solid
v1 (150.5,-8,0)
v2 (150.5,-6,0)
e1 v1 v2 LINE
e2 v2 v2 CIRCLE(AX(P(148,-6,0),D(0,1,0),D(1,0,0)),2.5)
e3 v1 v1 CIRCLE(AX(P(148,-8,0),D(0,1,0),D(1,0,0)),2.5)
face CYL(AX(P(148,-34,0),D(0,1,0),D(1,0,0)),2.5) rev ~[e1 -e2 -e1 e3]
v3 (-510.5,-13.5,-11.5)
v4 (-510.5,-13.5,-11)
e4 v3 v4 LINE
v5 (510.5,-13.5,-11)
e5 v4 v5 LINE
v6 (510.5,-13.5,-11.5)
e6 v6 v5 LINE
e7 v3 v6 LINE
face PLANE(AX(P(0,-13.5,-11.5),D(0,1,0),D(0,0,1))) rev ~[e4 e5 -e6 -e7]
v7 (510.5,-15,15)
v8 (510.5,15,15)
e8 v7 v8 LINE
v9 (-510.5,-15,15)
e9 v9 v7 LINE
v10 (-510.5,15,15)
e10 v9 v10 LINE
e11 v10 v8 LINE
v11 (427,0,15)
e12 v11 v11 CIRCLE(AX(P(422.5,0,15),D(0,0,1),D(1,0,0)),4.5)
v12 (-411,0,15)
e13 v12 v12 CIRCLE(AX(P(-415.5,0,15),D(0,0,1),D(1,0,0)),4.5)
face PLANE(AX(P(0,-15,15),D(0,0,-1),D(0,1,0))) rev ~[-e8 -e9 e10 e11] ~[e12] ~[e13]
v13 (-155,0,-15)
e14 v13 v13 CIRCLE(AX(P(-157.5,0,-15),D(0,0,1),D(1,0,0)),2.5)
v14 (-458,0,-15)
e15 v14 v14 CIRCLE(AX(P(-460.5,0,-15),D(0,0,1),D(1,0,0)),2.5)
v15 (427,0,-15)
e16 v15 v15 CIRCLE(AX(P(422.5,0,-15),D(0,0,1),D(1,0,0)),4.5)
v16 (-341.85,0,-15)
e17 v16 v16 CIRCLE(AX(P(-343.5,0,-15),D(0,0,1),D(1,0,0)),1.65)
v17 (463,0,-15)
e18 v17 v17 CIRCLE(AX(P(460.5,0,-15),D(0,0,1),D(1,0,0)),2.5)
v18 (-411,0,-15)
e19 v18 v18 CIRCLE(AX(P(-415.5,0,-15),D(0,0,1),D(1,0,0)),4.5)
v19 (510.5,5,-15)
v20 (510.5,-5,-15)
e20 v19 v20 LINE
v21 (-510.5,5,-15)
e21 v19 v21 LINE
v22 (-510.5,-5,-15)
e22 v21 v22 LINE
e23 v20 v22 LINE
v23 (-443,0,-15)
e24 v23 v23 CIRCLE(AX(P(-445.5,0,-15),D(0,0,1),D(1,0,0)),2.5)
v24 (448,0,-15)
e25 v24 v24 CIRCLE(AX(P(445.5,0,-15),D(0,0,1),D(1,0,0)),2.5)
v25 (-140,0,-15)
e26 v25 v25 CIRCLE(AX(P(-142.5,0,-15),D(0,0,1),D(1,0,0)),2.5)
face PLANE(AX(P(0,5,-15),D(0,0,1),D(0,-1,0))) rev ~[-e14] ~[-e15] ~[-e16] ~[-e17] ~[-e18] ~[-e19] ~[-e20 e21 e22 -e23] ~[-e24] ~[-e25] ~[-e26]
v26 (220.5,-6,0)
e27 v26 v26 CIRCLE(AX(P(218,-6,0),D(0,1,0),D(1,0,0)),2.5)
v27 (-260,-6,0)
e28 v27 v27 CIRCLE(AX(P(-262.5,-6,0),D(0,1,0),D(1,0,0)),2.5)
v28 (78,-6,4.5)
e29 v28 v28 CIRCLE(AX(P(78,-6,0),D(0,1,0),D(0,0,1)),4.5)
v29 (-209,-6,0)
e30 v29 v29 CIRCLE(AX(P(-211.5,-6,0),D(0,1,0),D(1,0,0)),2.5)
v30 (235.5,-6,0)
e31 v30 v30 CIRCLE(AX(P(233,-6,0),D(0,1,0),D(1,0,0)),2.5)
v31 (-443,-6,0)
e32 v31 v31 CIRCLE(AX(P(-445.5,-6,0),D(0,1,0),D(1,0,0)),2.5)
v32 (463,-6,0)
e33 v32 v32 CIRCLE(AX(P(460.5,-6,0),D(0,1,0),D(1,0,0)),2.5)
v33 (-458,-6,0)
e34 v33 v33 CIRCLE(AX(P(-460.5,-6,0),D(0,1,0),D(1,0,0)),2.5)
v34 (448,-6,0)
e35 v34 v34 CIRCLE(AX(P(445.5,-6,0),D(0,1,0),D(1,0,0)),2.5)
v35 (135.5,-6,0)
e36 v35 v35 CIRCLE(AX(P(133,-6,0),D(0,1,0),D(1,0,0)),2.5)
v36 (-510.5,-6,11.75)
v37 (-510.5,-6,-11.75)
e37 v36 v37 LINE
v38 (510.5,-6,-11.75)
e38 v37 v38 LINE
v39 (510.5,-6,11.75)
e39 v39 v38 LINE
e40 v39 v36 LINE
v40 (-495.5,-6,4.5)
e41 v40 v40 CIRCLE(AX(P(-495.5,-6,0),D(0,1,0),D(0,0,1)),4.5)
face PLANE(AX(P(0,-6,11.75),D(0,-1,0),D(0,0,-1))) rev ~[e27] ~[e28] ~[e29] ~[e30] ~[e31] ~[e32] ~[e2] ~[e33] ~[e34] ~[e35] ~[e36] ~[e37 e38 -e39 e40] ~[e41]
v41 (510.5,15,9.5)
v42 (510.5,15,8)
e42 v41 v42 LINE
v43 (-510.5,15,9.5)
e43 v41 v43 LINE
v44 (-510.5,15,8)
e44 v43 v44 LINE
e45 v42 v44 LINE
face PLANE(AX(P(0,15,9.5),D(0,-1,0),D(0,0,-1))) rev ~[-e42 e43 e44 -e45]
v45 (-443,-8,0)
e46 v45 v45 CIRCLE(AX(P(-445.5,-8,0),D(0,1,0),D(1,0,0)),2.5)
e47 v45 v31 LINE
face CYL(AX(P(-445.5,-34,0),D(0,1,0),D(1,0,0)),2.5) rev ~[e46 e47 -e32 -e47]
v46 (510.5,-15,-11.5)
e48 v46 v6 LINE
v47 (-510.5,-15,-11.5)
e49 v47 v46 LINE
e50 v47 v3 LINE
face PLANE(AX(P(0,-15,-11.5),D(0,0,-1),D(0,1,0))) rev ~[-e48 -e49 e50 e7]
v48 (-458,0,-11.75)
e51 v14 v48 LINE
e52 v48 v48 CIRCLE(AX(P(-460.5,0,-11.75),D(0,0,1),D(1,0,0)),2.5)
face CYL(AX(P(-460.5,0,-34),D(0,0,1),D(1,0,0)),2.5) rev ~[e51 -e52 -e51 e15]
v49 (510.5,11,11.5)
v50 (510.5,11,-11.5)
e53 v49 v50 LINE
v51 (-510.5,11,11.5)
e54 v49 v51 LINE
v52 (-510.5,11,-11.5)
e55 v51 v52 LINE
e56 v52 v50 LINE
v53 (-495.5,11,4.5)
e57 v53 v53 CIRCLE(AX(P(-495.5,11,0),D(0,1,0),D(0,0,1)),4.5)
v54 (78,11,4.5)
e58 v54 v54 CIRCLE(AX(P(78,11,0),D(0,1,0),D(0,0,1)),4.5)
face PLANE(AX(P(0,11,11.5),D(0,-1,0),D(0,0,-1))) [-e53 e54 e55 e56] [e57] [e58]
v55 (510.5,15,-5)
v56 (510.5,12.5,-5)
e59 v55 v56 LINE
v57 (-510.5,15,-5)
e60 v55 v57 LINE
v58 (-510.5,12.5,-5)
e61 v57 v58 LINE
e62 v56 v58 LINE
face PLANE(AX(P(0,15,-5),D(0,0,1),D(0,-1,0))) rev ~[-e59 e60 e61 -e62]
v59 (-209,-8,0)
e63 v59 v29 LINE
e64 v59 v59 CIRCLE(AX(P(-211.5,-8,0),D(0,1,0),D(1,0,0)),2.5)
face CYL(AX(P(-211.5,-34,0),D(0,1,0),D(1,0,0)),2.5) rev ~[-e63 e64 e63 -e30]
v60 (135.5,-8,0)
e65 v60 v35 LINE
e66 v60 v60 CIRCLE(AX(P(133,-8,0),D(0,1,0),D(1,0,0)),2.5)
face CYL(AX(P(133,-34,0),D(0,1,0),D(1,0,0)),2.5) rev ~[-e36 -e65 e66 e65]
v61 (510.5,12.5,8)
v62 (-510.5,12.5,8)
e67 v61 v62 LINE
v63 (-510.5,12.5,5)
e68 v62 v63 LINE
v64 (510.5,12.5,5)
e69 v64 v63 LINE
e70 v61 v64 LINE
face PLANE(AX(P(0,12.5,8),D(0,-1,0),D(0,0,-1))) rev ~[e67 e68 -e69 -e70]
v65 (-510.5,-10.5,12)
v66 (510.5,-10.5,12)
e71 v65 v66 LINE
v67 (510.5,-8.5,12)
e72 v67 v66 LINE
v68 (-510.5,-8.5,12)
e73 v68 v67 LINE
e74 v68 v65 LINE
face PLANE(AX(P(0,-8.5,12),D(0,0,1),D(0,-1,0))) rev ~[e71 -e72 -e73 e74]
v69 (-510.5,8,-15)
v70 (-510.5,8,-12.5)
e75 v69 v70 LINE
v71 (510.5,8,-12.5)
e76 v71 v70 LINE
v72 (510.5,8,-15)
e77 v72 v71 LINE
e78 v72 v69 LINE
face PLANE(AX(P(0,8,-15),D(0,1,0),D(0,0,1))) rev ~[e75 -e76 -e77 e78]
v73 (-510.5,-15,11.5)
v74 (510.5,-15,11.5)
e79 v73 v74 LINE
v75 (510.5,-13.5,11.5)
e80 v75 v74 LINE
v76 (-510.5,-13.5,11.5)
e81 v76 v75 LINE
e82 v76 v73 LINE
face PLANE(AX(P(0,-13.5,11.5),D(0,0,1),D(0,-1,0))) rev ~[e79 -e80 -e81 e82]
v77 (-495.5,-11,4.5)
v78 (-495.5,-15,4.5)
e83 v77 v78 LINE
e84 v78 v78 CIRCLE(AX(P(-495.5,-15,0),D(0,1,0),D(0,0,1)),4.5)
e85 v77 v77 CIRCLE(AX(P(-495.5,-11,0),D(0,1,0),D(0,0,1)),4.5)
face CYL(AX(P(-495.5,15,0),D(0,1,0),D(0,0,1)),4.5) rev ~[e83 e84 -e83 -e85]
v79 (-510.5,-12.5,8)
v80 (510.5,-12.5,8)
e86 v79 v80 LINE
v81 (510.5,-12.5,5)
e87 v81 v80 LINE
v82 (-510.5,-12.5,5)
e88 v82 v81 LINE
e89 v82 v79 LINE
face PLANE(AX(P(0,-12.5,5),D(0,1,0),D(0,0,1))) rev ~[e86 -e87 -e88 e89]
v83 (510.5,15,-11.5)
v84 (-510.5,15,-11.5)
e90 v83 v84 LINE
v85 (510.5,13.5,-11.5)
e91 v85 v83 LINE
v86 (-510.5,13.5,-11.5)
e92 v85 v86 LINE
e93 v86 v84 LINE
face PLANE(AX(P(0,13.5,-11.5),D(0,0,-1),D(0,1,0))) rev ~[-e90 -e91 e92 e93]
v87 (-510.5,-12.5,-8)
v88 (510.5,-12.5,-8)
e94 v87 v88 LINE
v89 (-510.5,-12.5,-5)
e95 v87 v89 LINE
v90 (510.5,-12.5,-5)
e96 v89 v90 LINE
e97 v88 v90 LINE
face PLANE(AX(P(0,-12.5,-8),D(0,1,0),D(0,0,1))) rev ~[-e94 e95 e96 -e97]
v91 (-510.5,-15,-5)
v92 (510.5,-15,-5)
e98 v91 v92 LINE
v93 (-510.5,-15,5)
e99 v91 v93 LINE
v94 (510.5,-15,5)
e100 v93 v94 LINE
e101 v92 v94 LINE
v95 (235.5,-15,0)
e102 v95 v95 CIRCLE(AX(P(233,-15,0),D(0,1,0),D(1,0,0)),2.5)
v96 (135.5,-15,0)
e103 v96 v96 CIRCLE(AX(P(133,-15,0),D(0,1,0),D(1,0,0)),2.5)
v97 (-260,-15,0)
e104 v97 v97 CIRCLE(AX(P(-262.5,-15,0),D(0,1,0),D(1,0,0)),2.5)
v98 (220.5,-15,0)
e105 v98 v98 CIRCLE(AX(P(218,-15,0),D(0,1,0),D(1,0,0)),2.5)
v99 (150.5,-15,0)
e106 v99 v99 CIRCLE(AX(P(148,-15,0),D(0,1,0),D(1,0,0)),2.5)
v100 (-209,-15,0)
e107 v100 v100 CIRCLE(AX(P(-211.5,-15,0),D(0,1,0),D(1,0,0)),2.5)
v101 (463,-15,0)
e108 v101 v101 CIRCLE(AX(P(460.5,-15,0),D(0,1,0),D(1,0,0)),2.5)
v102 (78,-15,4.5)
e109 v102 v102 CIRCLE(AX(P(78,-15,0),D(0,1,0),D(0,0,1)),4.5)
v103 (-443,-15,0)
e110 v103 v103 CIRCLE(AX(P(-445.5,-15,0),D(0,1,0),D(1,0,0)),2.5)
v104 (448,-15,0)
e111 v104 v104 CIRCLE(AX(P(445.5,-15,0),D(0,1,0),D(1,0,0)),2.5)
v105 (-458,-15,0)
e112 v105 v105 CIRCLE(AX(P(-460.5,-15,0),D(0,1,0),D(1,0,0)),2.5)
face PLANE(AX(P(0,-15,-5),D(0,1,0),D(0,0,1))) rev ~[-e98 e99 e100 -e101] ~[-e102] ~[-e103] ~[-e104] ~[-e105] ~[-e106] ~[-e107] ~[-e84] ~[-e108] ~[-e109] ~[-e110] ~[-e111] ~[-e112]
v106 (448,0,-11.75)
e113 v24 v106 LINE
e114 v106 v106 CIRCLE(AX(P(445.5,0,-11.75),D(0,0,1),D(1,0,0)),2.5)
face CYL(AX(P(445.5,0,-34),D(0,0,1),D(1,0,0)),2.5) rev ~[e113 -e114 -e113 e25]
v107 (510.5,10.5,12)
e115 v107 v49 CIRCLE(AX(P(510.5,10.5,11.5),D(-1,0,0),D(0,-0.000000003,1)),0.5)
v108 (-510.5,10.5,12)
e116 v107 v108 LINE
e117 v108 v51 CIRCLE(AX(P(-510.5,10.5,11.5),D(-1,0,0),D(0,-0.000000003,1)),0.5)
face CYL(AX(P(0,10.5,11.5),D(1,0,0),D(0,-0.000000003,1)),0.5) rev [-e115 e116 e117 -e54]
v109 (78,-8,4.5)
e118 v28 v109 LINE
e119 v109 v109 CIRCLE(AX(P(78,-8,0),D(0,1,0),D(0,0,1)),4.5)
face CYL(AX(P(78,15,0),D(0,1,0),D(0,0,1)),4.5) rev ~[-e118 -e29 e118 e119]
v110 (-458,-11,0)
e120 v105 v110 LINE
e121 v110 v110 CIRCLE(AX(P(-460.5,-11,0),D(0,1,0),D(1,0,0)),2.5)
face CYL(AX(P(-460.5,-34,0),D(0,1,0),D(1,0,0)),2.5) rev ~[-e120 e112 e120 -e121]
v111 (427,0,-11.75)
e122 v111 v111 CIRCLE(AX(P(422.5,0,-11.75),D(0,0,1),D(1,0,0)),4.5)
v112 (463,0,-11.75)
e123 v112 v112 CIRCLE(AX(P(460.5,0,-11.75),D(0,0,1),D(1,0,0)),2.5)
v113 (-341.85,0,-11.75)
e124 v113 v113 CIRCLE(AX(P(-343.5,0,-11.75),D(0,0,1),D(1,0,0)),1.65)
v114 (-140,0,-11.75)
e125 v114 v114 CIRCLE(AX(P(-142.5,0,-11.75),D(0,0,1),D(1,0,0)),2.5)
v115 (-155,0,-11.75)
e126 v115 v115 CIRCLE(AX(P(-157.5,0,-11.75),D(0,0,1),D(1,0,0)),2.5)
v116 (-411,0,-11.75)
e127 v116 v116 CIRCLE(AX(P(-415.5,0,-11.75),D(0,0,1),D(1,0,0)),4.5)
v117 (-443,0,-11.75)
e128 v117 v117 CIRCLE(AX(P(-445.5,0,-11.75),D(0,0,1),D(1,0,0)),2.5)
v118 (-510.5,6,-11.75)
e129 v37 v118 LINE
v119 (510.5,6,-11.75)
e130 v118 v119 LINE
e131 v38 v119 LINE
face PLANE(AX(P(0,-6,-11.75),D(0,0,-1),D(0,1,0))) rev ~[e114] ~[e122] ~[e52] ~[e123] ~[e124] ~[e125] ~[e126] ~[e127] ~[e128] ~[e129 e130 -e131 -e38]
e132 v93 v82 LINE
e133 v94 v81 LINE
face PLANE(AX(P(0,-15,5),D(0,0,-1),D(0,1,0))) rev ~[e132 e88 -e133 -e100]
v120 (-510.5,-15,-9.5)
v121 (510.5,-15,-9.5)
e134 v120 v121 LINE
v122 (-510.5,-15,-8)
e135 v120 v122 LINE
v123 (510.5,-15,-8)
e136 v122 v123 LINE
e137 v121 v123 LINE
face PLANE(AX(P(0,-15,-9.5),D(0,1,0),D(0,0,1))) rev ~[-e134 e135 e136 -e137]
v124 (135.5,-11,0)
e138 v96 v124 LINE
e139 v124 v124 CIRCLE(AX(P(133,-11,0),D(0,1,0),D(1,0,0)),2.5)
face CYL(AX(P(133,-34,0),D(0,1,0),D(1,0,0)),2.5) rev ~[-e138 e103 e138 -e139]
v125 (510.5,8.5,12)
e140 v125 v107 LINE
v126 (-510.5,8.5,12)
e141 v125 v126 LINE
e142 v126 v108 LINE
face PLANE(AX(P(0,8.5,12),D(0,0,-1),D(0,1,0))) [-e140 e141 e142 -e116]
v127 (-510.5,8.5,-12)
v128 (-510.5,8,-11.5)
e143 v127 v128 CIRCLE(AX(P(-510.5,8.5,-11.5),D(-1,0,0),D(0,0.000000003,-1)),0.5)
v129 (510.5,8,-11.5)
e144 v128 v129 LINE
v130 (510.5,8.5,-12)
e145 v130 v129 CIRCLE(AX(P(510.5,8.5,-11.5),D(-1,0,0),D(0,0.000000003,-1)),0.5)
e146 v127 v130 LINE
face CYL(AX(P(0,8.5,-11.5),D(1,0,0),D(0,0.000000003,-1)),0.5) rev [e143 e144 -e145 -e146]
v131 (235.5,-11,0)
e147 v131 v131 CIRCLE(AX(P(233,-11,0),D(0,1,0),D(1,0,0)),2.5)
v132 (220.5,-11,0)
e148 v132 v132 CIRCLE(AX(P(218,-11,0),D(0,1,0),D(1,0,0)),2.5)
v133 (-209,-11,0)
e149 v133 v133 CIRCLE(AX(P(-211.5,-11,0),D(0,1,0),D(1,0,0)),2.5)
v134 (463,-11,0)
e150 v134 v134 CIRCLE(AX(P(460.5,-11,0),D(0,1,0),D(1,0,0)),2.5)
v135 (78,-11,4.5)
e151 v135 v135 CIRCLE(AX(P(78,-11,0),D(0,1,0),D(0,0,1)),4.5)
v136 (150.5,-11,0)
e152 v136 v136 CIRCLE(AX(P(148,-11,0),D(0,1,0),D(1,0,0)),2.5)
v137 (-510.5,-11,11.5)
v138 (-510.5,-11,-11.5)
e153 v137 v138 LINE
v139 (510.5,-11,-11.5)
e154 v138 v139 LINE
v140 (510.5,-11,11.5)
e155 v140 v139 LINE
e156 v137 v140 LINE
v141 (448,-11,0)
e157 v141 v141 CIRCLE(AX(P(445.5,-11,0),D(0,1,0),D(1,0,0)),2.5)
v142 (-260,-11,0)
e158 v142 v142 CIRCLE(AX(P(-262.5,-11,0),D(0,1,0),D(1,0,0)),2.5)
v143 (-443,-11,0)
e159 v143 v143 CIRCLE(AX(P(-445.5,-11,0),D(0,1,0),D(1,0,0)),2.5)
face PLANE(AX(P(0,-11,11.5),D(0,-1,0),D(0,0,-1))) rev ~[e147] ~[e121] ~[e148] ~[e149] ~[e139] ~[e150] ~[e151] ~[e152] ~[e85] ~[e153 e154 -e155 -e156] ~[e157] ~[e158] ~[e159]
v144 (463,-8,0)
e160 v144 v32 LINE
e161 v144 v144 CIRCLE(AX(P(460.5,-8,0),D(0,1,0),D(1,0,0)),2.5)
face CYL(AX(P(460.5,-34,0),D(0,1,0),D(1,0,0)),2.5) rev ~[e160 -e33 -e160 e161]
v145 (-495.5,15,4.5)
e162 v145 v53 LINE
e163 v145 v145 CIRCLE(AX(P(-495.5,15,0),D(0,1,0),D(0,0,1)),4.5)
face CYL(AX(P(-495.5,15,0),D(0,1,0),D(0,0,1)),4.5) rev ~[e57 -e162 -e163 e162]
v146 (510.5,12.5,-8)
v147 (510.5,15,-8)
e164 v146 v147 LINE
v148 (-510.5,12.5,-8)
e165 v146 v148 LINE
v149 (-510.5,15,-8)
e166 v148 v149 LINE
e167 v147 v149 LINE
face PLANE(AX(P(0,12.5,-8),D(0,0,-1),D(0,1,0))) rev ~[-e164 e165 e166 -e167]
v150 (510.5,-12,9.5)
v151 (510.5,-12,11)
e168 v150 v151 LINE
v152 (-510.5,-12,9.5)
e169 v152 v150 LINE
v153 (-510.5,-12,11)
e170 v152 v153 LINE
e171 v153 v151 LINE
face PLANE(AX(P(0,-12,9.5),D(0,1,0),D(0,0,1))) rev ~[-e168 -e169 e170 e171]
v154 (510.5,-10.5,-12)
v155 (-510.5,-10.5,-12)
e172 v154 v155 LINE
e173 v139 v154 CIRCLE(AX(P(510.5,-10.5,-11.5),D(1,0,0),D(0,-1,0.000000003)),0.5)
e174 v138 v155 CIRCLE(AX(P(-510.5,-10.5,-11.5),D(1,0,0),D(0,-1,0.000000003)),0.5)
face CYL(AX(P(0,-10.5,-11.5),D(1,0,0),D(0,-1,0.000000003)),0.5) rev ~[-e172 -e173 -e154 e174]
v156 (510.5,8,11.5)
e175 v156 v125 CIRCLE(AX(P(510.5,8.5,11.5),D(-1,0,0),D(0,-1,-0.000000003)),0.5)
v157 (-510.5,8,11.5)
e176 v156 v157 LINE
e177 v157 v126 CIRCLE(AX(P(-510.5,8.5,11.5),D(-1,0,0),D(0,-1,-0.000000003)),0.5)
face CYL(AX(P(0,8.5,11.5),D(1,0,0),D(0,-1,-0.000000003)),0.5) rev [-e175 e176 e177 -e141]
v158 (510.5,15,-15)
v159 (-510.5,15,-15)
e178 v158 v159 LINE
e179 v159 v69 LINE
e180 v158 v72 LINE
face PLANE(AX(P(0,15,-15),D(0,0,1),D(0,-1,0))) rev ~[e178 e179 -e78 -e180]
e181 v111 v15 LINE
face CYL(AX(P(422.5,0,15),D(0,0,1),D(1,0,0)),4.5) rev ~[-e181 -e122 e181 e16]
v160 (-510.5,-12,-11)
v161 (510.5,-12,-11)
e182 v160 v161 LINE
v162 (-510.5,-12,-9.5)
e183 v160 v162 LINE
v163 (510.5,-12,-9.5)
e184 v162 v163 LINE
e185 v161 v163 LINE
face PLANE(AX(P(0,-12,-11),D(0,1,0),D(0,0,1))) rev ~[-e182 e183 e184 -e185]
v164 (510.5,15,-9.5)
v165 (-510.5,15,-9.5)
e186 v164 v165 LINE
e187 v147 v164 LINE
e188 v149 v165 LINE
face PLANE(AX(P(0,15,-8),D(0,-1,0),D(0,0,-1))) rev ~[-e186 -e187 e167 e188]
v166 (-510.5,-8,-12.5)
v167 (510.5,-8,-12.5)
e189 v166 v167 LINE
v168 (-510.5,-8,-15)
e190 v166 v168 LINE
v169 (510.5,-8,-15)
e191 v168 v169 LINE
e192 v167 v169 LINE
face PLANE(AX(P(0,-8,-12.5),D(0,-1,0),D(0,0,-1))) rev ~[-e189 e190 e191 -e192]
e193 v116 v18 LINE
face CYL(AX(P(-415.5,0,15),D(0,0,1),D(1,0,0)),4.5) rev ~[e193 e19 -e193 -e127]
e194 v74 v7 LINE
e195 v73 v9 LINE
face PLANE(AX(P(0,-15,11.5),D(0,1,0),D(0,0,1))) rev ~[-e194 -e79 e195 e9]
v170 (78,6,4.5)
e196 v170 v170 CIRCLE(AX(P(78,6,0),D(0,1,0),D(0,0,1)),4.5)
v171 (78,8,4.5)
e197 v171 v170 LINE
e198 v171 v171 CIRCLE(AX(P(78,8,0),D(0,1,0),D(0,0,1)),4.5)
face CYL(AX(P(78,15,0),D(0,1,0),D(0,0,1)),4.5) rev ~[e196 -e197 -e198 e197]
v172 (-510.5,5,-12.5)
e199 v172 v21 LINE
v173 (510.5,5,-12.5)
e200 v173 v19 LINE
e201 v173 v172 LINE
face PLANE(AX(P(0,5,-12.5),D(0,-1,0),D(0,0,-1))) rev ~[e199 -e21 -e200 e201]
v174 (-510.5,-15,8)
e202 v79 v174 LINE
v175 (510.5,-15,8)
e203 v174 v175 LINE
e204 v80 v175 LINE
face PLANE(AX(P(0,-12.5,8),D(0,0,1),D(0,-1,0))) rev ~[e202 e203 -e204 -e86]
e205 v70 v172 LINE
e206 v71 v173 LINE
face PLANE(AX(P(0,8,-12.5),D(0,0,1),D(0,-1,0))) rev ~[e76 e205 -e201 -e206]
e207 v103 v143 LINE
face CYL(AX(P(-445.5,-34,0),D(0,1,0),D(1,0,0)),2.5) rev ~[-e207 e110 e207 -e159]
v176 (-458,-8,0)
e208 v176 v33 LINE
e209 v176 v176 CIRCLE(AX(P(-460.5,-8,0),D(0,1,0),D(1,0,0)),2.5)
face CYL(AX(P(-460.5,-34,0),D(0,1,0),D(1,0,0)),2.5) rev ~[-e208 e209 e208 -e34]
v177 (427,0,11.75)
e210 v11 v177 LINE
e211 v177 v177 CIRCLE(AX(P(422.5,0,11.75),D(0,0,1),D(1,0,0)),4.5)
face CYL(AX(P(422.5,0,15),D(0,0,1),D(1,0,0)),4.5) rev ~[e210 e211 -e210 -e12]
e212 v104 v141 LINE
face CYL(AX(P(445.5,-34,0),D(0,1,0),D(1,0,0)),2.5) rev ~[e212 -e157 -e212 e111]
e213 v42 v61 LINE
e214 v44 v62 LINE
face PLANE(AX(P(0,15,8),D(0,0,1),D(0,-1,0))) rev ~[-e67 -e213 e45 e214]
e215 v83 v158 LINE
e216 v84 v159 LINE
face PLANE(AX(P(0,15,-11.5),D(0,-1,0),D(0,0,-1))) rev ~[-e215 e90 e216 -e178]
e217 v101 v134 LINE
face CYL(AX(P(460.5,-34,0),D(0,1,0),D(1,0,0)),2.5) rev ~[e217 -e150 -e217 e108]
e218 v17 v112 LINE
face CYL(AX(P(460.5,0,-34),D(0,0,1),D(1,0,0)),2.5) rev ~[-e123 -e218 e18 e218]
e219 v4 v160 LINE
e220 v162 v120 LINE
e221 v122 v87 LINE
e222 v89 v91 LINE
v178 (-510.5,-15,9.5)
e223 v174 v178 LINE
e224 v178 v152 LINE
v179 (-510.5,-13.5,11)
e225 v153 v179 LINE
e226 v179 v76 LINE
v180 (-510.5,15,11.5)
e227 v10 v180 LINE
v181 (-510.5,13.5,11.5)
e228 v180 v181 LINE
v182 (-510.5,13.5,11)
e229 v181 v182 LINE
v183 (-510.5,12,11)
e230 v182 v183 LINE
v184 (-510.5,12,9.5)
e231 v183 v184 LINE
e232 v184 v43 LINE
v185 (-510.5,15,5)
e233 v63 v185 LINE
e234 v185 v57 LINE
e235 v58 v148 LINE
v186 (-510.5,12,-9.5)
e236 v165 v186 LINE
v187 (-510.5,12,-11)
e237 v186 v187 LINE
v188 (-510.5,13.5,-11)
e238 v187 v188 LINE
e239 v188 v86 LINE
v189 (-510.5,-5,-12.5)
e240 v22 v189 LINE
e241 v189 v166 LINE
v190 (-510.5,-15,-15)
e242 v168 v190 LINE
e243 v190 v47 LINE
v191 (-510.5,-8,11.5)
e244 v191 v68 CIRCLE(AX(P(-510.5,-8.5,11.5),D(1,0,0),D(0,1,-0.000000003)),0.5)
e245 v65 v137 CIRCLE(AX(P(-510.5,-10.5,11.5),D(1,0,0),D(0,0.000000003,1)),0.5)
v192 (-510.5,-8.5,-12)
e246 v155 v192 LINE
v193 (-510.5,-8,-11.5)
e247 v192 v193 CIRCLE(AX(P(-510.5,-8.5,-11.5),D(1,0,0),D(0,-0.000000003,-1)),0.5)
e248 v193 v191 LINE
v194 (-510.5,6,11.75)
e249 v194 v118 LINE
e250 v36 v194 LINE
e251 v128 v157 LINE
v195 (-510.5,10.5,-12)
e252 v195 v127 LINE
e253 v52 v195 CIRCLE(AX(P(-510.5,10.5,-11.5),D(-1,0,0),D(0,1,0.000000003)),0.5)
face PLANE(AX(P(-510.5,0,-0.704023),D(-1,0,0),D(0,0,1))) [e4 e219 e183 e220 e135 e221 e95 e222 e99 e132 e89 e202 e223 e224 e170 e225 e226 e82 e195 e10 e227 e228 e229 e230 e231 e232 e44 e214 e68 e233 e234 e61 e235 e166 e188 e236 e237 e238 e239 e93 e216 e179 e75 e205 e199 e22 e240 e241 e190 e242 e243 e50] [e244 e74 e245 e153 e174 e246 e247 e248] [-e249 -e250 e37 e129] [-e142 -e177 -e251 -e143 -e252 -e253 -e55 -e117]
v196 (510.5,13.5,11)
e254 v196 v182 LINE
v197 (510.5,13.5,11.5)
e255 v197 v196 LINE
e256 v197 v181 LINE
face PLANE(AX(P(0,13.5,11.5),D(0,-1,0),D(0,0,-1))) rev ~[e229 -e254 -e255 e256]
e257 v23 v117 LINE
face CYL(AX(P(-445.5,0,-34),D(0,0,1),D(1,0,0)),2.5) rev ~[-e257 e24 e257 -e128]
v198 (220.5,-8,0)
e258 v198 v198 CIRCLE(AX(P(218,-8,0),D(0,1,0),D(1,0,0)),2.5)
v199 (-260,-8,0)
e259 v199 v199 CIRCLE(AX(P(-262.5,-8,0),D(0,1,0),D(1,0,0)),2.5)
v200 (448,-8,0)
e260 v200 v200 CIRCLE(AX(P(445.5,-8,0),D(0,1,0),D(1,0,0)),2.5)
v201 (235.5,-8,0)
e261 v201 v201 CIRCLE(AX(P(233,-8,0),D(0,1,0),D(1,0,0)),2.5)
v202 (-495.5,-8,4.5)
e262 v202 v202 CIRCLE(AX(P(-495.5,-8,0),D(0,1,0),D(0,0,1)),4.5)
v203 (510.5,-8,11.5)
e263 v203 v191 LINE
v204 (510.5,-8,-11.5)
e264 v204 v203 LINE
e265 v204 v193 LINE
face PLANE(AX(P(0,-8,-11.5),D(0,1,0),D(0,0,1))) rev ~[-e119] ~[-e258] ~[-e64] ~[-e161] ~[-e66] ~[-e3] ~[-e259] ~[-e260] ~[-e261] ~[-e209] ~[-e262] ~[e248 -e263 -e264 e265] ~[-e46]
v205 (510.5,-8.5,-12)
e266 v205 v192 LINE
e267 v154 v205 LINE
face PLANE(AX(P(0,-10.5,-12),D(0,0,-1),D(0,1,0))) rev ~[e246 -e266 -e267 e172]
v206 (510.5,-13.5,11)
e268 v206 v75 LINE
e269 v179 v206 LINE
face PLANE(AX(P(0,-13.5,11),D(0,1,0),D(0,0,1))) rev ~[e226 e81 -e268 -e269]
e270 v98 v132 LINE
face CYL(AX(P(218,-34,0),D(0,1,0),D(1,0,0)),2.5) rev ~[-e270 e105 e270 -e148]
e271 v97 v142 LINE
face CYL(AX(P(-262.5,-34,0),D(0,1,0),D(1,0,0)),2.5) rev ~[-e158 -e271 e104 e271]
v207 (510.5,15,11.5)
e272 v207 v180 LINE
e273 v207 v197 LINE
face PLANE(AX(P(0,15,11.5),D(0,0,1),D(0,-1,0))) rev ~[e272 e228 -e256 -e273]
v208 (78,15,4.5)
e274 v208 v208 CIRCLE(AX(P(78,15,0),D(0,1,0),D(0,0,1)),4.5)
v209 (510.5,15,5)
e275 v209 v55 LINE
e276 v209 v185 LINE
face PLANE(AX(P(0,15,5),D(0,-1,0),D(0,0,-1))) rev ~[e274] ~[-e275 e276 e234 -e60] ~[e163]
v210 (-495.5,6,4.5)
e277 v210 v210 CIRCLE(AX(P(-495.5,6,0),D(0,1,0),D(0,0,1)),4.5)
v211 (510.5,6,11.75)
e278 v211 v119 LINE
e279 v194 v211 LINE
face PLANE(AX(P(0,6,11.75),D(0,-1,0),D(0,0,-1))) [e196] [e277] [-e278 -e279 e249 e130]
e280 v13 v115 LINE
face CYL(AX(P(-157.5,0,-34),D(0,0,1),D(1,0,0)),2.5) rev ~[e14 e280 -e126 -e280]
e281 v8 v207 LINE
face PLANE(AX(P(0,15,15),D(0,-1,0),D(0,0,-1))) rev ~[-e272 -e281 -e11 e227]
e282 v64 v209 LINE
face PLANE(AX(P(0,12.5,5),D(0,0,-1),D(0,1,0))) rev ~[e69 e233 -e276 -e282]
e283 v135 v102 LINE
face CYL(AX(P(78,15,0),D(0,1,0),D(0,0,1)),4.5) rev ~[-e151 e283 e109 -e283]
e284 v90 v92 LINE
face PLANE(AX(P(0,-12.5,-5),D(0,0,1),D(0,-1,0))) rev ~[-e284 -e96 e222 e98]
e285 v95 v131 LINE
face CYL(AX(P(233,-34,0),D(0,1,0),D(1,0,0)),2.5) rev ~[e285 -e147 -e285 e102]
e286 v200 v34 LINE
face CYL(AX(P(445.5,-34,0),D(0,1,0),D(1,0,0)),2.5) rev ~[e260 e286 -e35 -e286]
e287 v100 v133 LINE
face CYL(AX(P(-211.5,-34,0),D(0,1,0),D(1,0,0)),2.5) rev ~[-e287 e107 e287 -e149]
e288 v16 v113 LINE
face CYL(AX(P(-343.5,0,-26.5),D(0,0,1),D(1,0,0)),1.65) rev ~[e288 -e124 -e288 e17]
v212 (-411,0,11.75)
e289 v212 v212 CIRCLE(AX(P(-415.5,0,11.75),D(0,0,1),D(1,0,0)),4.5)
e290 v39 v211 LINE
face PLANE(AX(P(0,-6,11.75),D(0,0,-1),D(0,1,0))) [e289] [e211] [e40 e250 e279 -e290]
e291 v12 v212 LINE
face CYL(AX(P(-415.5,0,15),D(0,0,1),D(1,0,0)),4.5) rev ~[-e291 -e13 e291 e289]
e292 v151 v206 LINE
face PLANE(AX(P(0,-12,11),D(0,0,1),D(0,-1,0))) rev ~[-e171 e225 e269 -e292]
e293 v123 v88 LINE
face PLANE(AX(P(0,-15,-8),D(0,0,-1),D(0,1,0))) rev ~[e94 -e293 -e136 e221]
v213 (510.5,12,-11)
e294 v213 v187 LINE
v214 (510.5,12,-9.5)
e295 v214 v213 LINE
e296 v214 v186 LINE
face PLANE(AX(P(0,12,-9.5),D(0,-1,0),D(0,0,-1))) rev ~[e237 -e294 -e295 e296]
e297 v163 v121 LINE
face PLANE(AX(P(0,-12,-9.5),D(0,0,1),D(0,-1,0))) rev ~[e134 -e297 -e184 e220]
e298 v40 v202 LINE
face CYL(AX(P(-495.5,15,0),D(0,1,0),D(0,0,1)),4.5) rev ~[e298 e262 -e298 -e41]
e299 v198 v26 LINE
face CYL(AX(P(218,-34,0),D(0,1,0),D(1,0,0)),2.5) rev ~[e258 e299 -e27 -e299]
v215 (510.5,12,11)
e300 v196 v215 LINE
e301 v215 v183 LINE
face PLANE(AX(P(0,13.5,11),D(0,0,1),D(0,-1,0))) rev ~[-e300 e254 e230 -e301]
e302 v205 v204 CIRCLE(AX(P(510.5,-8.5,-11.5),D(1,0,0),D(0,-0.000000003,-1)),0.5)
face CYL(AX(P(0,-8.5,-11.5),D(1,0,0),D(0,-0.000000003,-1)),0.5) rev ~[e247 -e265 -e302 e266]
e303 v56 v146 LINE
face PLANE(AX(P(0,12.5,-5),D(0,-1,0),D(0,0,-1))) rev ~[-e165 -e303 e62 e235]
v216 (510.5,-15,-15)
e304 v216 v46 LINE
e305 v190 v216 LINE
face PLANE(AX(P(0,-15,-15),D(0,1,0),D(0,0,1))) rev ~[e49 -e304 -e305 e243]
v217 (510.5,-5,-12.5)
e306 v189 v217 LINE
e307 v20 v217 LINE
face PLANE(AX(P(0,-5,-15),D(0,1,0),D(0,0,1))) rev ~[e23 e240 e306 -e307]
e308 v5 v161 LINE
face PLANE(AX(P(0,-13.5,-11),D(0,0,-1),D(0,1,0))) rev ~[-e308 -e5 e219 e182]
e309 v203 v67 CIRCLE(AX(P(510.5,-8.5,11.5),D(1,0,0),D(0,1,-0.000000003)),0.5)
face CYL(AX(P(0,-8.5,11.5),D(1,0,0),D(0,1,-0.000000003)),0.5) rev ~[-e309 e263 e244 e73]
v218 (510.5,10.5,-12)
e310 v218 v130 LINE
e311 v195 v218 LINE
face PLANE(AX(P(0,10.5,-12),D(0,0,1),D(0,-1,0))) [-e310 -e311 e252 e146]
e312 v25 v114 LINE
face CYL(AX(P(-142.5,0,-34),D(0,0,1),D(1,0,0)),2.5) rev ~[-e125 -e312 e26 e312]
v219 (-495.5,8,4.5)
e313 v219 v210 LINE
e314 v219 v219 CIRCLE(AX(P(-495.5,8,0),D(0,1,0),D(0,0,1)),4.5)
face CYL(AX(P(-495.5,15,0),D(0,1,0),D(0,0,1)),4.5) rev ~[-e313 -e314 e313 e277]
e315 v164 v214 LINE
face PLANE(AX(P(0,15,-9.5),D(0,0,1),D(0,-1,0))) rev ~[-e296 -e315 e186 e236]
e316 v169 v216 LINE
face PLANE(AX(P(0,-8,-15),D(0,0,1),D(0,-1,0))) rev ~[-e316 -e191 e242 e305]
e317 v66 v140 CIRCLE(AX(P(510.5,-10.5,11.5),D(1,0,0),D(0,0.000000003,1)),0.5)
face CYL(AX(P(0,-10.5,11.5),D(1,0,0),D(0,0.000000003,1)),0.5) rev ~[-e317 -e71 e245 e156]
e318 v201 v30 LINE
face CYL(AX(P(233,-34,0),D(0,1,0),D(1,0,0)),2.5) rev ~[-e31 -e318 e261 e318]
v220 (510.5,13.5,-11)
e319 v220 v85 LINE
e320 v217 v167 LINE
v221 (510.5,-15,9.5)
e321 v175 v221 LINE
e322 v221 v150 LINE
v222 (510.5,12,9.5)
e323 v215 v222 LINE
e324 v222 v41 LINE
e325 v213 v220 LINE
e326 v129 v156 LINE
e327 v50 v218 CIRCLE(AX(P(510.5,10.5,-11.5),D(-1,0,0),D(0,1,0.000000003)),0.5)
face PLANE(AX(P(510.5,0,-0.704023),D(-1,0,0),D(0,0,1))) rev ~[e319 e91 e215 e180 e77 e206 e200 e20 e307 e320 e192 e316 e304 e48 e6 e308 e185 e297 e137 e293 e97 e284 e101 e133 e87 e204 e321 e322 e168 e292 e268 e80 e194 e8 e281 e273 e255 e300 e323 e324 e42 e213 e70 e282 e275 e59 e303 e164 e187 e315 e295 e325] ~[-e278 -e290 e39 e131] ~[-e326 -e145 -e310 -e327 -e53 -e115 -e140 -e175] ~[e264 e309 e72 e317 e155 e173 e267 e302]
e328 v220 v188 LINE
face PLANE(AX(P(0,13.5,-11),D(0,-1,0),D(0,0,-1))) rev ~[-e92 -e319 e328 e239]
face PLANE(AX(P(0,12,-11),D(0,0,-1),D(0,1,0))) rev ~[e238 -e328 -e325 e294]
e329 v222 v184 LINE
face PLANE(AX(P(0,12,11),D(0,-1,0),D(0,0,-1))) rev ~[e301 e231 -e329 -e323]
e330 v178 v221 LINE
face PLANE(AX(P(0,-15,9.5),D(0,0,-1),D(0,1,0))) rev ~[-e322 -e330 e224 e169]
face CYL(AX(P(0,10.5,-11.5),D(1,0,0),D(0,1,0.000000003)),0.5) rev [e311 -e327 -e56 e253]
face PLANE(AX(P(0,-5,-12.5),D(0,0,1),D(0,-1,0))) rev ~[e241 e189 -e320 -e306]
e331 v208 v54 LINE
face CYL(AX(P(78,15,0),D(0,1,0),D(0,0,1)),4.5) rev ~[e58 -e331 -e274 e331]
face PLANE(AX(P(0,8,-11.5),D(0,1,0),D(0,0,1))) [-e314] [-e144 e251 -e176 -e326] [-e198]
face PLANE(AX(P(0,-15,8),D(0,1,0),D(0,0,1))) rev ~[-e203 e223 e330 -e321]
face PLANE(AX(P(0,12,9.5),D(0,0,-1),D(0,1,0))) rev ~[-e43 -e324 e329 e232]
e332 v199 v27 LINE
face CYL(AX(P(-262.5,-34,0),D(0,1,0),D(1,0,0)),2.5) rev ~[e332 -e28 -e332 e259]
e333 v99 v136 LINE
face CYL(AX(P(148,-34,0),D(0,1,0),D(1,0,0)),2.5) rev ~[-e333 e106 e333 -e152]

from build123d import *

# Parameters (mm, degrees)
SKETCH_1_W             = 23.5
SKETCH_1_H             = 12
EXTRUDE_1_DEPTH        = 510.5
HOLE_WIZARD_M6_1_D     = 5
HOLE_WIZARD_M6_1_DEPTH = 19
HOLE_WIZARD_M6_1_TIP   = 1.502151548
HOLE_WIZARD_M6_2_D     = 5
HOLE_WIZARD_M6_2_DEPTH = 19
HOLE_WIZARD_M6_2_TIP   = 1.502151548
SKETCH_6_R             = 4.5
CUT_EXTRUDE_1_DEPTH    = 512.600674355
SKETCH_7_R             = 4.5
CUT_EXTRUDE_2_DEPTH    = 512.600674355
HOLE_WIZARD_M4_1_D     = 3.3
HOLE_WIZARD_M4_1_DEPTH = 11.5
HOLE_WIZARD_M4_1_TIP   = 0.991420021


with BuildPart() as part:
    # 草图1 → 凸台-拉伸1 (new, symmetric)
    with BuildSketch(Plane(origin=(0, 0, 0), x_dir=(0, 0, -1), z_dir=(1, 0, 0))):
        Polygon((-15, 15), (-11.5, 15), (-11.5, 13.5), (-11, 13.5), (-11, 12), (-9.5, 12), (-9.5, 15), (-8, 15), (-8, 12.5), (-5, 12.5), (-5, 15), (5, 15), (5, 12.5), (8, 12.5), (8, 15), (9.5, 15), (9.5, 12), (11, 12), (11, 13.5), (11.5, 13.5), (11.5, 15), (15, 15), (15, 8), (12.5, 8), (12.5, 5), (15, 5), (15, -5), (12.5, -5), (12.5, -8), (15, -8), (15, -15), (11.5, -15), (11.5, -13.5), (11, -13.5), (11, -12), (9.5, -12), (9.5, -15), (8, -15), (8, -12.5), (5, -12.5), (5, -15), (-5, -15), (-5, -12.5), (-8, -12.5), (-8, -15), (-9.5, -15), (-9.5, -12), (-11, -12), (-11, -13.5), (-11.5, -13.5), (-11.5, -15), (-15, -15), align=None)
        with BuildLine():
            Line((12, -10.5), (12, -8.5))
            ThreePointArc((12, -8.5), (11.853553391, -8.146446609), (11.5, -8))
            Line((11.5, -8), (-11.5, -8))
            ThreePointArc((-11.5, -8), (-11.853553391, -8.146446609), (-12, -8.5))
            Line((-12, -8.5), (-12, -10.5))
            ThreePointArc((-12, -10.5), (-11.853553391, -10.853553391), (-11.5, -11))
            Line((-11.5, -11), (11.5, -11))
            ThreePointArc((11.5, -11), (11.853553391, -10.853553391), (12, -10.5))
        make_face(mode=Mode.SUBTRACT)
        with BuildLine():
            Line((-11.5, 11), (11.5, 11))
            ThreePointArc((11.5, 11), (11.853553391, 10.853553391), (12, 10.5))
            Line((12, 10.5), (12, 8.5))
            ThreePointArc((12, 8.5), (11.853553391, 8.146446609), (11.5, 8))
            Line((11.5, 8), (-11.5, 8))
            ThreePointArc((-11.5, 8), (-11.853553391, 8.146446609), (-12, 8.5))
            Line((-12, 8.5), (-12, 10.5))
            ThreePointArc((-12, 10.5), (-11.853553391, 10.853553391), (-11.5, 11))
        make_face(mode=Mode.SUBTRACT)
        Rectangle(SKETCH_1_W, SKETCH_1_H, mode=Mode.SUBTRACT)
    extrude(amount=EXTRUDE_1_DEPTH, both=True)

    # M6 螺纹孔1
    with Locations(Plane(origin=(0, -15, 0), x_dir=(-1, 0, 0), z_dir=(0, -1, 0))):
        with Locations((460.5, 0), (445.5, 0), (-133, 0), (-148, 0), (-218, 0), (-233, 0), (-445.5, 0), (-460.5, 0), (262.5, 0), (211.5, 0)):
            Hole(HOLE_WIZARD_M6_1_D / 2, depth=HOLE_WIZARD_M6_1_DEPTH)
            with Locations((0, 0, -(HOLE_WIZARD_M6_1_DEPTH + HOLE_WIZARD_M6_1_TIP / 2))):  # 118° drill point
                Cone(0, HOLE_WIZARD_M6_1_D / 2, HOLE_WIZARD_M6_1_TIP, mode=Mode.SUBTRACT)

    # M6 螺纹孔2
    with Locations(Plane(origin=(0, 0, -15), x_dir=(-1, 0, 0), z_dir=(0, 0, -1))):
        with Locations((460.5, 0), (445.5, 0), (157.5, 0), (142.5, 0), (-445.5, 0), (-460.5, 0)):
            Hole(HOLE_WIZARD_M6_2_D / 2, depth=HOLE_WIZARD_M6_2_DEPTH)
            with Locations((0, 0, -(HOLE_WIZARD_M6_2_DEPTH + HOLE_WIZARD_M6_2_TIP / 2))):  # 118° drill point
                Cone(0, HOLE_WIZARD_M6_2_D / 2, HOLE_WIZARD_M6_2_TIP, mode=Mode.SUBTRACT)

    # 草图6 → 切除-拉伸1 (cut, through all)
    with BuildSketch(Plane(origin=(0, 15, 0), x_dir=(1, 0, 0), z_dir=(0, 1, 0))):
        with Locations(Location((-495.5, 0, 0), (0, 0, 270))):
            Circle(SKETCH_6_R)
        with Locations(Location((78, 0, 0), (0, 0, 270))):
            Circle(SKETCH_6_R)
    extrude(amount=-CUT_EXTRUDE_1_DEPTH, mode=Mode.SUBTRACT)

    # 草图7 → 切除-拉伸2 (cut, through all)
    with BuildSketch(Plane.XY.offset(15)):
        with Locations((-415.5, 0)):
            Circle(SKETCH_7_R)
        with Locations((422.5, 0)):
            Circle(SKETCH_7_R)
    extrude(amount=-CUT_EXTRUDE_2_DEPTH, mode=Mode.SUBTRACT)

    # M4 螺纹孔1
    with Locations(Plane(origin=(0, 0, -15), x_dir=(-1, 0, 0), z_dir=(0, 0, -1))):
        with Locations((343.5, 0)):
            Hole(HOLE_WIZARD_M4_1_D / 2, depth=HOLE_WIZARD_M4_1_DEPTH)
            with Locations((0, 0, -(HOLE_WIZARD_M4_1_DEPTH + HOLE_WIZARD_M4_1_TIP / 2))):  # 118° drill point
                Cone(0, HOLE_WIZARD_M4_1_D / 2, HOLE_WIZARD_M4_1_TIP, mode=Mode.SUBTRACT)


solid = part.part
